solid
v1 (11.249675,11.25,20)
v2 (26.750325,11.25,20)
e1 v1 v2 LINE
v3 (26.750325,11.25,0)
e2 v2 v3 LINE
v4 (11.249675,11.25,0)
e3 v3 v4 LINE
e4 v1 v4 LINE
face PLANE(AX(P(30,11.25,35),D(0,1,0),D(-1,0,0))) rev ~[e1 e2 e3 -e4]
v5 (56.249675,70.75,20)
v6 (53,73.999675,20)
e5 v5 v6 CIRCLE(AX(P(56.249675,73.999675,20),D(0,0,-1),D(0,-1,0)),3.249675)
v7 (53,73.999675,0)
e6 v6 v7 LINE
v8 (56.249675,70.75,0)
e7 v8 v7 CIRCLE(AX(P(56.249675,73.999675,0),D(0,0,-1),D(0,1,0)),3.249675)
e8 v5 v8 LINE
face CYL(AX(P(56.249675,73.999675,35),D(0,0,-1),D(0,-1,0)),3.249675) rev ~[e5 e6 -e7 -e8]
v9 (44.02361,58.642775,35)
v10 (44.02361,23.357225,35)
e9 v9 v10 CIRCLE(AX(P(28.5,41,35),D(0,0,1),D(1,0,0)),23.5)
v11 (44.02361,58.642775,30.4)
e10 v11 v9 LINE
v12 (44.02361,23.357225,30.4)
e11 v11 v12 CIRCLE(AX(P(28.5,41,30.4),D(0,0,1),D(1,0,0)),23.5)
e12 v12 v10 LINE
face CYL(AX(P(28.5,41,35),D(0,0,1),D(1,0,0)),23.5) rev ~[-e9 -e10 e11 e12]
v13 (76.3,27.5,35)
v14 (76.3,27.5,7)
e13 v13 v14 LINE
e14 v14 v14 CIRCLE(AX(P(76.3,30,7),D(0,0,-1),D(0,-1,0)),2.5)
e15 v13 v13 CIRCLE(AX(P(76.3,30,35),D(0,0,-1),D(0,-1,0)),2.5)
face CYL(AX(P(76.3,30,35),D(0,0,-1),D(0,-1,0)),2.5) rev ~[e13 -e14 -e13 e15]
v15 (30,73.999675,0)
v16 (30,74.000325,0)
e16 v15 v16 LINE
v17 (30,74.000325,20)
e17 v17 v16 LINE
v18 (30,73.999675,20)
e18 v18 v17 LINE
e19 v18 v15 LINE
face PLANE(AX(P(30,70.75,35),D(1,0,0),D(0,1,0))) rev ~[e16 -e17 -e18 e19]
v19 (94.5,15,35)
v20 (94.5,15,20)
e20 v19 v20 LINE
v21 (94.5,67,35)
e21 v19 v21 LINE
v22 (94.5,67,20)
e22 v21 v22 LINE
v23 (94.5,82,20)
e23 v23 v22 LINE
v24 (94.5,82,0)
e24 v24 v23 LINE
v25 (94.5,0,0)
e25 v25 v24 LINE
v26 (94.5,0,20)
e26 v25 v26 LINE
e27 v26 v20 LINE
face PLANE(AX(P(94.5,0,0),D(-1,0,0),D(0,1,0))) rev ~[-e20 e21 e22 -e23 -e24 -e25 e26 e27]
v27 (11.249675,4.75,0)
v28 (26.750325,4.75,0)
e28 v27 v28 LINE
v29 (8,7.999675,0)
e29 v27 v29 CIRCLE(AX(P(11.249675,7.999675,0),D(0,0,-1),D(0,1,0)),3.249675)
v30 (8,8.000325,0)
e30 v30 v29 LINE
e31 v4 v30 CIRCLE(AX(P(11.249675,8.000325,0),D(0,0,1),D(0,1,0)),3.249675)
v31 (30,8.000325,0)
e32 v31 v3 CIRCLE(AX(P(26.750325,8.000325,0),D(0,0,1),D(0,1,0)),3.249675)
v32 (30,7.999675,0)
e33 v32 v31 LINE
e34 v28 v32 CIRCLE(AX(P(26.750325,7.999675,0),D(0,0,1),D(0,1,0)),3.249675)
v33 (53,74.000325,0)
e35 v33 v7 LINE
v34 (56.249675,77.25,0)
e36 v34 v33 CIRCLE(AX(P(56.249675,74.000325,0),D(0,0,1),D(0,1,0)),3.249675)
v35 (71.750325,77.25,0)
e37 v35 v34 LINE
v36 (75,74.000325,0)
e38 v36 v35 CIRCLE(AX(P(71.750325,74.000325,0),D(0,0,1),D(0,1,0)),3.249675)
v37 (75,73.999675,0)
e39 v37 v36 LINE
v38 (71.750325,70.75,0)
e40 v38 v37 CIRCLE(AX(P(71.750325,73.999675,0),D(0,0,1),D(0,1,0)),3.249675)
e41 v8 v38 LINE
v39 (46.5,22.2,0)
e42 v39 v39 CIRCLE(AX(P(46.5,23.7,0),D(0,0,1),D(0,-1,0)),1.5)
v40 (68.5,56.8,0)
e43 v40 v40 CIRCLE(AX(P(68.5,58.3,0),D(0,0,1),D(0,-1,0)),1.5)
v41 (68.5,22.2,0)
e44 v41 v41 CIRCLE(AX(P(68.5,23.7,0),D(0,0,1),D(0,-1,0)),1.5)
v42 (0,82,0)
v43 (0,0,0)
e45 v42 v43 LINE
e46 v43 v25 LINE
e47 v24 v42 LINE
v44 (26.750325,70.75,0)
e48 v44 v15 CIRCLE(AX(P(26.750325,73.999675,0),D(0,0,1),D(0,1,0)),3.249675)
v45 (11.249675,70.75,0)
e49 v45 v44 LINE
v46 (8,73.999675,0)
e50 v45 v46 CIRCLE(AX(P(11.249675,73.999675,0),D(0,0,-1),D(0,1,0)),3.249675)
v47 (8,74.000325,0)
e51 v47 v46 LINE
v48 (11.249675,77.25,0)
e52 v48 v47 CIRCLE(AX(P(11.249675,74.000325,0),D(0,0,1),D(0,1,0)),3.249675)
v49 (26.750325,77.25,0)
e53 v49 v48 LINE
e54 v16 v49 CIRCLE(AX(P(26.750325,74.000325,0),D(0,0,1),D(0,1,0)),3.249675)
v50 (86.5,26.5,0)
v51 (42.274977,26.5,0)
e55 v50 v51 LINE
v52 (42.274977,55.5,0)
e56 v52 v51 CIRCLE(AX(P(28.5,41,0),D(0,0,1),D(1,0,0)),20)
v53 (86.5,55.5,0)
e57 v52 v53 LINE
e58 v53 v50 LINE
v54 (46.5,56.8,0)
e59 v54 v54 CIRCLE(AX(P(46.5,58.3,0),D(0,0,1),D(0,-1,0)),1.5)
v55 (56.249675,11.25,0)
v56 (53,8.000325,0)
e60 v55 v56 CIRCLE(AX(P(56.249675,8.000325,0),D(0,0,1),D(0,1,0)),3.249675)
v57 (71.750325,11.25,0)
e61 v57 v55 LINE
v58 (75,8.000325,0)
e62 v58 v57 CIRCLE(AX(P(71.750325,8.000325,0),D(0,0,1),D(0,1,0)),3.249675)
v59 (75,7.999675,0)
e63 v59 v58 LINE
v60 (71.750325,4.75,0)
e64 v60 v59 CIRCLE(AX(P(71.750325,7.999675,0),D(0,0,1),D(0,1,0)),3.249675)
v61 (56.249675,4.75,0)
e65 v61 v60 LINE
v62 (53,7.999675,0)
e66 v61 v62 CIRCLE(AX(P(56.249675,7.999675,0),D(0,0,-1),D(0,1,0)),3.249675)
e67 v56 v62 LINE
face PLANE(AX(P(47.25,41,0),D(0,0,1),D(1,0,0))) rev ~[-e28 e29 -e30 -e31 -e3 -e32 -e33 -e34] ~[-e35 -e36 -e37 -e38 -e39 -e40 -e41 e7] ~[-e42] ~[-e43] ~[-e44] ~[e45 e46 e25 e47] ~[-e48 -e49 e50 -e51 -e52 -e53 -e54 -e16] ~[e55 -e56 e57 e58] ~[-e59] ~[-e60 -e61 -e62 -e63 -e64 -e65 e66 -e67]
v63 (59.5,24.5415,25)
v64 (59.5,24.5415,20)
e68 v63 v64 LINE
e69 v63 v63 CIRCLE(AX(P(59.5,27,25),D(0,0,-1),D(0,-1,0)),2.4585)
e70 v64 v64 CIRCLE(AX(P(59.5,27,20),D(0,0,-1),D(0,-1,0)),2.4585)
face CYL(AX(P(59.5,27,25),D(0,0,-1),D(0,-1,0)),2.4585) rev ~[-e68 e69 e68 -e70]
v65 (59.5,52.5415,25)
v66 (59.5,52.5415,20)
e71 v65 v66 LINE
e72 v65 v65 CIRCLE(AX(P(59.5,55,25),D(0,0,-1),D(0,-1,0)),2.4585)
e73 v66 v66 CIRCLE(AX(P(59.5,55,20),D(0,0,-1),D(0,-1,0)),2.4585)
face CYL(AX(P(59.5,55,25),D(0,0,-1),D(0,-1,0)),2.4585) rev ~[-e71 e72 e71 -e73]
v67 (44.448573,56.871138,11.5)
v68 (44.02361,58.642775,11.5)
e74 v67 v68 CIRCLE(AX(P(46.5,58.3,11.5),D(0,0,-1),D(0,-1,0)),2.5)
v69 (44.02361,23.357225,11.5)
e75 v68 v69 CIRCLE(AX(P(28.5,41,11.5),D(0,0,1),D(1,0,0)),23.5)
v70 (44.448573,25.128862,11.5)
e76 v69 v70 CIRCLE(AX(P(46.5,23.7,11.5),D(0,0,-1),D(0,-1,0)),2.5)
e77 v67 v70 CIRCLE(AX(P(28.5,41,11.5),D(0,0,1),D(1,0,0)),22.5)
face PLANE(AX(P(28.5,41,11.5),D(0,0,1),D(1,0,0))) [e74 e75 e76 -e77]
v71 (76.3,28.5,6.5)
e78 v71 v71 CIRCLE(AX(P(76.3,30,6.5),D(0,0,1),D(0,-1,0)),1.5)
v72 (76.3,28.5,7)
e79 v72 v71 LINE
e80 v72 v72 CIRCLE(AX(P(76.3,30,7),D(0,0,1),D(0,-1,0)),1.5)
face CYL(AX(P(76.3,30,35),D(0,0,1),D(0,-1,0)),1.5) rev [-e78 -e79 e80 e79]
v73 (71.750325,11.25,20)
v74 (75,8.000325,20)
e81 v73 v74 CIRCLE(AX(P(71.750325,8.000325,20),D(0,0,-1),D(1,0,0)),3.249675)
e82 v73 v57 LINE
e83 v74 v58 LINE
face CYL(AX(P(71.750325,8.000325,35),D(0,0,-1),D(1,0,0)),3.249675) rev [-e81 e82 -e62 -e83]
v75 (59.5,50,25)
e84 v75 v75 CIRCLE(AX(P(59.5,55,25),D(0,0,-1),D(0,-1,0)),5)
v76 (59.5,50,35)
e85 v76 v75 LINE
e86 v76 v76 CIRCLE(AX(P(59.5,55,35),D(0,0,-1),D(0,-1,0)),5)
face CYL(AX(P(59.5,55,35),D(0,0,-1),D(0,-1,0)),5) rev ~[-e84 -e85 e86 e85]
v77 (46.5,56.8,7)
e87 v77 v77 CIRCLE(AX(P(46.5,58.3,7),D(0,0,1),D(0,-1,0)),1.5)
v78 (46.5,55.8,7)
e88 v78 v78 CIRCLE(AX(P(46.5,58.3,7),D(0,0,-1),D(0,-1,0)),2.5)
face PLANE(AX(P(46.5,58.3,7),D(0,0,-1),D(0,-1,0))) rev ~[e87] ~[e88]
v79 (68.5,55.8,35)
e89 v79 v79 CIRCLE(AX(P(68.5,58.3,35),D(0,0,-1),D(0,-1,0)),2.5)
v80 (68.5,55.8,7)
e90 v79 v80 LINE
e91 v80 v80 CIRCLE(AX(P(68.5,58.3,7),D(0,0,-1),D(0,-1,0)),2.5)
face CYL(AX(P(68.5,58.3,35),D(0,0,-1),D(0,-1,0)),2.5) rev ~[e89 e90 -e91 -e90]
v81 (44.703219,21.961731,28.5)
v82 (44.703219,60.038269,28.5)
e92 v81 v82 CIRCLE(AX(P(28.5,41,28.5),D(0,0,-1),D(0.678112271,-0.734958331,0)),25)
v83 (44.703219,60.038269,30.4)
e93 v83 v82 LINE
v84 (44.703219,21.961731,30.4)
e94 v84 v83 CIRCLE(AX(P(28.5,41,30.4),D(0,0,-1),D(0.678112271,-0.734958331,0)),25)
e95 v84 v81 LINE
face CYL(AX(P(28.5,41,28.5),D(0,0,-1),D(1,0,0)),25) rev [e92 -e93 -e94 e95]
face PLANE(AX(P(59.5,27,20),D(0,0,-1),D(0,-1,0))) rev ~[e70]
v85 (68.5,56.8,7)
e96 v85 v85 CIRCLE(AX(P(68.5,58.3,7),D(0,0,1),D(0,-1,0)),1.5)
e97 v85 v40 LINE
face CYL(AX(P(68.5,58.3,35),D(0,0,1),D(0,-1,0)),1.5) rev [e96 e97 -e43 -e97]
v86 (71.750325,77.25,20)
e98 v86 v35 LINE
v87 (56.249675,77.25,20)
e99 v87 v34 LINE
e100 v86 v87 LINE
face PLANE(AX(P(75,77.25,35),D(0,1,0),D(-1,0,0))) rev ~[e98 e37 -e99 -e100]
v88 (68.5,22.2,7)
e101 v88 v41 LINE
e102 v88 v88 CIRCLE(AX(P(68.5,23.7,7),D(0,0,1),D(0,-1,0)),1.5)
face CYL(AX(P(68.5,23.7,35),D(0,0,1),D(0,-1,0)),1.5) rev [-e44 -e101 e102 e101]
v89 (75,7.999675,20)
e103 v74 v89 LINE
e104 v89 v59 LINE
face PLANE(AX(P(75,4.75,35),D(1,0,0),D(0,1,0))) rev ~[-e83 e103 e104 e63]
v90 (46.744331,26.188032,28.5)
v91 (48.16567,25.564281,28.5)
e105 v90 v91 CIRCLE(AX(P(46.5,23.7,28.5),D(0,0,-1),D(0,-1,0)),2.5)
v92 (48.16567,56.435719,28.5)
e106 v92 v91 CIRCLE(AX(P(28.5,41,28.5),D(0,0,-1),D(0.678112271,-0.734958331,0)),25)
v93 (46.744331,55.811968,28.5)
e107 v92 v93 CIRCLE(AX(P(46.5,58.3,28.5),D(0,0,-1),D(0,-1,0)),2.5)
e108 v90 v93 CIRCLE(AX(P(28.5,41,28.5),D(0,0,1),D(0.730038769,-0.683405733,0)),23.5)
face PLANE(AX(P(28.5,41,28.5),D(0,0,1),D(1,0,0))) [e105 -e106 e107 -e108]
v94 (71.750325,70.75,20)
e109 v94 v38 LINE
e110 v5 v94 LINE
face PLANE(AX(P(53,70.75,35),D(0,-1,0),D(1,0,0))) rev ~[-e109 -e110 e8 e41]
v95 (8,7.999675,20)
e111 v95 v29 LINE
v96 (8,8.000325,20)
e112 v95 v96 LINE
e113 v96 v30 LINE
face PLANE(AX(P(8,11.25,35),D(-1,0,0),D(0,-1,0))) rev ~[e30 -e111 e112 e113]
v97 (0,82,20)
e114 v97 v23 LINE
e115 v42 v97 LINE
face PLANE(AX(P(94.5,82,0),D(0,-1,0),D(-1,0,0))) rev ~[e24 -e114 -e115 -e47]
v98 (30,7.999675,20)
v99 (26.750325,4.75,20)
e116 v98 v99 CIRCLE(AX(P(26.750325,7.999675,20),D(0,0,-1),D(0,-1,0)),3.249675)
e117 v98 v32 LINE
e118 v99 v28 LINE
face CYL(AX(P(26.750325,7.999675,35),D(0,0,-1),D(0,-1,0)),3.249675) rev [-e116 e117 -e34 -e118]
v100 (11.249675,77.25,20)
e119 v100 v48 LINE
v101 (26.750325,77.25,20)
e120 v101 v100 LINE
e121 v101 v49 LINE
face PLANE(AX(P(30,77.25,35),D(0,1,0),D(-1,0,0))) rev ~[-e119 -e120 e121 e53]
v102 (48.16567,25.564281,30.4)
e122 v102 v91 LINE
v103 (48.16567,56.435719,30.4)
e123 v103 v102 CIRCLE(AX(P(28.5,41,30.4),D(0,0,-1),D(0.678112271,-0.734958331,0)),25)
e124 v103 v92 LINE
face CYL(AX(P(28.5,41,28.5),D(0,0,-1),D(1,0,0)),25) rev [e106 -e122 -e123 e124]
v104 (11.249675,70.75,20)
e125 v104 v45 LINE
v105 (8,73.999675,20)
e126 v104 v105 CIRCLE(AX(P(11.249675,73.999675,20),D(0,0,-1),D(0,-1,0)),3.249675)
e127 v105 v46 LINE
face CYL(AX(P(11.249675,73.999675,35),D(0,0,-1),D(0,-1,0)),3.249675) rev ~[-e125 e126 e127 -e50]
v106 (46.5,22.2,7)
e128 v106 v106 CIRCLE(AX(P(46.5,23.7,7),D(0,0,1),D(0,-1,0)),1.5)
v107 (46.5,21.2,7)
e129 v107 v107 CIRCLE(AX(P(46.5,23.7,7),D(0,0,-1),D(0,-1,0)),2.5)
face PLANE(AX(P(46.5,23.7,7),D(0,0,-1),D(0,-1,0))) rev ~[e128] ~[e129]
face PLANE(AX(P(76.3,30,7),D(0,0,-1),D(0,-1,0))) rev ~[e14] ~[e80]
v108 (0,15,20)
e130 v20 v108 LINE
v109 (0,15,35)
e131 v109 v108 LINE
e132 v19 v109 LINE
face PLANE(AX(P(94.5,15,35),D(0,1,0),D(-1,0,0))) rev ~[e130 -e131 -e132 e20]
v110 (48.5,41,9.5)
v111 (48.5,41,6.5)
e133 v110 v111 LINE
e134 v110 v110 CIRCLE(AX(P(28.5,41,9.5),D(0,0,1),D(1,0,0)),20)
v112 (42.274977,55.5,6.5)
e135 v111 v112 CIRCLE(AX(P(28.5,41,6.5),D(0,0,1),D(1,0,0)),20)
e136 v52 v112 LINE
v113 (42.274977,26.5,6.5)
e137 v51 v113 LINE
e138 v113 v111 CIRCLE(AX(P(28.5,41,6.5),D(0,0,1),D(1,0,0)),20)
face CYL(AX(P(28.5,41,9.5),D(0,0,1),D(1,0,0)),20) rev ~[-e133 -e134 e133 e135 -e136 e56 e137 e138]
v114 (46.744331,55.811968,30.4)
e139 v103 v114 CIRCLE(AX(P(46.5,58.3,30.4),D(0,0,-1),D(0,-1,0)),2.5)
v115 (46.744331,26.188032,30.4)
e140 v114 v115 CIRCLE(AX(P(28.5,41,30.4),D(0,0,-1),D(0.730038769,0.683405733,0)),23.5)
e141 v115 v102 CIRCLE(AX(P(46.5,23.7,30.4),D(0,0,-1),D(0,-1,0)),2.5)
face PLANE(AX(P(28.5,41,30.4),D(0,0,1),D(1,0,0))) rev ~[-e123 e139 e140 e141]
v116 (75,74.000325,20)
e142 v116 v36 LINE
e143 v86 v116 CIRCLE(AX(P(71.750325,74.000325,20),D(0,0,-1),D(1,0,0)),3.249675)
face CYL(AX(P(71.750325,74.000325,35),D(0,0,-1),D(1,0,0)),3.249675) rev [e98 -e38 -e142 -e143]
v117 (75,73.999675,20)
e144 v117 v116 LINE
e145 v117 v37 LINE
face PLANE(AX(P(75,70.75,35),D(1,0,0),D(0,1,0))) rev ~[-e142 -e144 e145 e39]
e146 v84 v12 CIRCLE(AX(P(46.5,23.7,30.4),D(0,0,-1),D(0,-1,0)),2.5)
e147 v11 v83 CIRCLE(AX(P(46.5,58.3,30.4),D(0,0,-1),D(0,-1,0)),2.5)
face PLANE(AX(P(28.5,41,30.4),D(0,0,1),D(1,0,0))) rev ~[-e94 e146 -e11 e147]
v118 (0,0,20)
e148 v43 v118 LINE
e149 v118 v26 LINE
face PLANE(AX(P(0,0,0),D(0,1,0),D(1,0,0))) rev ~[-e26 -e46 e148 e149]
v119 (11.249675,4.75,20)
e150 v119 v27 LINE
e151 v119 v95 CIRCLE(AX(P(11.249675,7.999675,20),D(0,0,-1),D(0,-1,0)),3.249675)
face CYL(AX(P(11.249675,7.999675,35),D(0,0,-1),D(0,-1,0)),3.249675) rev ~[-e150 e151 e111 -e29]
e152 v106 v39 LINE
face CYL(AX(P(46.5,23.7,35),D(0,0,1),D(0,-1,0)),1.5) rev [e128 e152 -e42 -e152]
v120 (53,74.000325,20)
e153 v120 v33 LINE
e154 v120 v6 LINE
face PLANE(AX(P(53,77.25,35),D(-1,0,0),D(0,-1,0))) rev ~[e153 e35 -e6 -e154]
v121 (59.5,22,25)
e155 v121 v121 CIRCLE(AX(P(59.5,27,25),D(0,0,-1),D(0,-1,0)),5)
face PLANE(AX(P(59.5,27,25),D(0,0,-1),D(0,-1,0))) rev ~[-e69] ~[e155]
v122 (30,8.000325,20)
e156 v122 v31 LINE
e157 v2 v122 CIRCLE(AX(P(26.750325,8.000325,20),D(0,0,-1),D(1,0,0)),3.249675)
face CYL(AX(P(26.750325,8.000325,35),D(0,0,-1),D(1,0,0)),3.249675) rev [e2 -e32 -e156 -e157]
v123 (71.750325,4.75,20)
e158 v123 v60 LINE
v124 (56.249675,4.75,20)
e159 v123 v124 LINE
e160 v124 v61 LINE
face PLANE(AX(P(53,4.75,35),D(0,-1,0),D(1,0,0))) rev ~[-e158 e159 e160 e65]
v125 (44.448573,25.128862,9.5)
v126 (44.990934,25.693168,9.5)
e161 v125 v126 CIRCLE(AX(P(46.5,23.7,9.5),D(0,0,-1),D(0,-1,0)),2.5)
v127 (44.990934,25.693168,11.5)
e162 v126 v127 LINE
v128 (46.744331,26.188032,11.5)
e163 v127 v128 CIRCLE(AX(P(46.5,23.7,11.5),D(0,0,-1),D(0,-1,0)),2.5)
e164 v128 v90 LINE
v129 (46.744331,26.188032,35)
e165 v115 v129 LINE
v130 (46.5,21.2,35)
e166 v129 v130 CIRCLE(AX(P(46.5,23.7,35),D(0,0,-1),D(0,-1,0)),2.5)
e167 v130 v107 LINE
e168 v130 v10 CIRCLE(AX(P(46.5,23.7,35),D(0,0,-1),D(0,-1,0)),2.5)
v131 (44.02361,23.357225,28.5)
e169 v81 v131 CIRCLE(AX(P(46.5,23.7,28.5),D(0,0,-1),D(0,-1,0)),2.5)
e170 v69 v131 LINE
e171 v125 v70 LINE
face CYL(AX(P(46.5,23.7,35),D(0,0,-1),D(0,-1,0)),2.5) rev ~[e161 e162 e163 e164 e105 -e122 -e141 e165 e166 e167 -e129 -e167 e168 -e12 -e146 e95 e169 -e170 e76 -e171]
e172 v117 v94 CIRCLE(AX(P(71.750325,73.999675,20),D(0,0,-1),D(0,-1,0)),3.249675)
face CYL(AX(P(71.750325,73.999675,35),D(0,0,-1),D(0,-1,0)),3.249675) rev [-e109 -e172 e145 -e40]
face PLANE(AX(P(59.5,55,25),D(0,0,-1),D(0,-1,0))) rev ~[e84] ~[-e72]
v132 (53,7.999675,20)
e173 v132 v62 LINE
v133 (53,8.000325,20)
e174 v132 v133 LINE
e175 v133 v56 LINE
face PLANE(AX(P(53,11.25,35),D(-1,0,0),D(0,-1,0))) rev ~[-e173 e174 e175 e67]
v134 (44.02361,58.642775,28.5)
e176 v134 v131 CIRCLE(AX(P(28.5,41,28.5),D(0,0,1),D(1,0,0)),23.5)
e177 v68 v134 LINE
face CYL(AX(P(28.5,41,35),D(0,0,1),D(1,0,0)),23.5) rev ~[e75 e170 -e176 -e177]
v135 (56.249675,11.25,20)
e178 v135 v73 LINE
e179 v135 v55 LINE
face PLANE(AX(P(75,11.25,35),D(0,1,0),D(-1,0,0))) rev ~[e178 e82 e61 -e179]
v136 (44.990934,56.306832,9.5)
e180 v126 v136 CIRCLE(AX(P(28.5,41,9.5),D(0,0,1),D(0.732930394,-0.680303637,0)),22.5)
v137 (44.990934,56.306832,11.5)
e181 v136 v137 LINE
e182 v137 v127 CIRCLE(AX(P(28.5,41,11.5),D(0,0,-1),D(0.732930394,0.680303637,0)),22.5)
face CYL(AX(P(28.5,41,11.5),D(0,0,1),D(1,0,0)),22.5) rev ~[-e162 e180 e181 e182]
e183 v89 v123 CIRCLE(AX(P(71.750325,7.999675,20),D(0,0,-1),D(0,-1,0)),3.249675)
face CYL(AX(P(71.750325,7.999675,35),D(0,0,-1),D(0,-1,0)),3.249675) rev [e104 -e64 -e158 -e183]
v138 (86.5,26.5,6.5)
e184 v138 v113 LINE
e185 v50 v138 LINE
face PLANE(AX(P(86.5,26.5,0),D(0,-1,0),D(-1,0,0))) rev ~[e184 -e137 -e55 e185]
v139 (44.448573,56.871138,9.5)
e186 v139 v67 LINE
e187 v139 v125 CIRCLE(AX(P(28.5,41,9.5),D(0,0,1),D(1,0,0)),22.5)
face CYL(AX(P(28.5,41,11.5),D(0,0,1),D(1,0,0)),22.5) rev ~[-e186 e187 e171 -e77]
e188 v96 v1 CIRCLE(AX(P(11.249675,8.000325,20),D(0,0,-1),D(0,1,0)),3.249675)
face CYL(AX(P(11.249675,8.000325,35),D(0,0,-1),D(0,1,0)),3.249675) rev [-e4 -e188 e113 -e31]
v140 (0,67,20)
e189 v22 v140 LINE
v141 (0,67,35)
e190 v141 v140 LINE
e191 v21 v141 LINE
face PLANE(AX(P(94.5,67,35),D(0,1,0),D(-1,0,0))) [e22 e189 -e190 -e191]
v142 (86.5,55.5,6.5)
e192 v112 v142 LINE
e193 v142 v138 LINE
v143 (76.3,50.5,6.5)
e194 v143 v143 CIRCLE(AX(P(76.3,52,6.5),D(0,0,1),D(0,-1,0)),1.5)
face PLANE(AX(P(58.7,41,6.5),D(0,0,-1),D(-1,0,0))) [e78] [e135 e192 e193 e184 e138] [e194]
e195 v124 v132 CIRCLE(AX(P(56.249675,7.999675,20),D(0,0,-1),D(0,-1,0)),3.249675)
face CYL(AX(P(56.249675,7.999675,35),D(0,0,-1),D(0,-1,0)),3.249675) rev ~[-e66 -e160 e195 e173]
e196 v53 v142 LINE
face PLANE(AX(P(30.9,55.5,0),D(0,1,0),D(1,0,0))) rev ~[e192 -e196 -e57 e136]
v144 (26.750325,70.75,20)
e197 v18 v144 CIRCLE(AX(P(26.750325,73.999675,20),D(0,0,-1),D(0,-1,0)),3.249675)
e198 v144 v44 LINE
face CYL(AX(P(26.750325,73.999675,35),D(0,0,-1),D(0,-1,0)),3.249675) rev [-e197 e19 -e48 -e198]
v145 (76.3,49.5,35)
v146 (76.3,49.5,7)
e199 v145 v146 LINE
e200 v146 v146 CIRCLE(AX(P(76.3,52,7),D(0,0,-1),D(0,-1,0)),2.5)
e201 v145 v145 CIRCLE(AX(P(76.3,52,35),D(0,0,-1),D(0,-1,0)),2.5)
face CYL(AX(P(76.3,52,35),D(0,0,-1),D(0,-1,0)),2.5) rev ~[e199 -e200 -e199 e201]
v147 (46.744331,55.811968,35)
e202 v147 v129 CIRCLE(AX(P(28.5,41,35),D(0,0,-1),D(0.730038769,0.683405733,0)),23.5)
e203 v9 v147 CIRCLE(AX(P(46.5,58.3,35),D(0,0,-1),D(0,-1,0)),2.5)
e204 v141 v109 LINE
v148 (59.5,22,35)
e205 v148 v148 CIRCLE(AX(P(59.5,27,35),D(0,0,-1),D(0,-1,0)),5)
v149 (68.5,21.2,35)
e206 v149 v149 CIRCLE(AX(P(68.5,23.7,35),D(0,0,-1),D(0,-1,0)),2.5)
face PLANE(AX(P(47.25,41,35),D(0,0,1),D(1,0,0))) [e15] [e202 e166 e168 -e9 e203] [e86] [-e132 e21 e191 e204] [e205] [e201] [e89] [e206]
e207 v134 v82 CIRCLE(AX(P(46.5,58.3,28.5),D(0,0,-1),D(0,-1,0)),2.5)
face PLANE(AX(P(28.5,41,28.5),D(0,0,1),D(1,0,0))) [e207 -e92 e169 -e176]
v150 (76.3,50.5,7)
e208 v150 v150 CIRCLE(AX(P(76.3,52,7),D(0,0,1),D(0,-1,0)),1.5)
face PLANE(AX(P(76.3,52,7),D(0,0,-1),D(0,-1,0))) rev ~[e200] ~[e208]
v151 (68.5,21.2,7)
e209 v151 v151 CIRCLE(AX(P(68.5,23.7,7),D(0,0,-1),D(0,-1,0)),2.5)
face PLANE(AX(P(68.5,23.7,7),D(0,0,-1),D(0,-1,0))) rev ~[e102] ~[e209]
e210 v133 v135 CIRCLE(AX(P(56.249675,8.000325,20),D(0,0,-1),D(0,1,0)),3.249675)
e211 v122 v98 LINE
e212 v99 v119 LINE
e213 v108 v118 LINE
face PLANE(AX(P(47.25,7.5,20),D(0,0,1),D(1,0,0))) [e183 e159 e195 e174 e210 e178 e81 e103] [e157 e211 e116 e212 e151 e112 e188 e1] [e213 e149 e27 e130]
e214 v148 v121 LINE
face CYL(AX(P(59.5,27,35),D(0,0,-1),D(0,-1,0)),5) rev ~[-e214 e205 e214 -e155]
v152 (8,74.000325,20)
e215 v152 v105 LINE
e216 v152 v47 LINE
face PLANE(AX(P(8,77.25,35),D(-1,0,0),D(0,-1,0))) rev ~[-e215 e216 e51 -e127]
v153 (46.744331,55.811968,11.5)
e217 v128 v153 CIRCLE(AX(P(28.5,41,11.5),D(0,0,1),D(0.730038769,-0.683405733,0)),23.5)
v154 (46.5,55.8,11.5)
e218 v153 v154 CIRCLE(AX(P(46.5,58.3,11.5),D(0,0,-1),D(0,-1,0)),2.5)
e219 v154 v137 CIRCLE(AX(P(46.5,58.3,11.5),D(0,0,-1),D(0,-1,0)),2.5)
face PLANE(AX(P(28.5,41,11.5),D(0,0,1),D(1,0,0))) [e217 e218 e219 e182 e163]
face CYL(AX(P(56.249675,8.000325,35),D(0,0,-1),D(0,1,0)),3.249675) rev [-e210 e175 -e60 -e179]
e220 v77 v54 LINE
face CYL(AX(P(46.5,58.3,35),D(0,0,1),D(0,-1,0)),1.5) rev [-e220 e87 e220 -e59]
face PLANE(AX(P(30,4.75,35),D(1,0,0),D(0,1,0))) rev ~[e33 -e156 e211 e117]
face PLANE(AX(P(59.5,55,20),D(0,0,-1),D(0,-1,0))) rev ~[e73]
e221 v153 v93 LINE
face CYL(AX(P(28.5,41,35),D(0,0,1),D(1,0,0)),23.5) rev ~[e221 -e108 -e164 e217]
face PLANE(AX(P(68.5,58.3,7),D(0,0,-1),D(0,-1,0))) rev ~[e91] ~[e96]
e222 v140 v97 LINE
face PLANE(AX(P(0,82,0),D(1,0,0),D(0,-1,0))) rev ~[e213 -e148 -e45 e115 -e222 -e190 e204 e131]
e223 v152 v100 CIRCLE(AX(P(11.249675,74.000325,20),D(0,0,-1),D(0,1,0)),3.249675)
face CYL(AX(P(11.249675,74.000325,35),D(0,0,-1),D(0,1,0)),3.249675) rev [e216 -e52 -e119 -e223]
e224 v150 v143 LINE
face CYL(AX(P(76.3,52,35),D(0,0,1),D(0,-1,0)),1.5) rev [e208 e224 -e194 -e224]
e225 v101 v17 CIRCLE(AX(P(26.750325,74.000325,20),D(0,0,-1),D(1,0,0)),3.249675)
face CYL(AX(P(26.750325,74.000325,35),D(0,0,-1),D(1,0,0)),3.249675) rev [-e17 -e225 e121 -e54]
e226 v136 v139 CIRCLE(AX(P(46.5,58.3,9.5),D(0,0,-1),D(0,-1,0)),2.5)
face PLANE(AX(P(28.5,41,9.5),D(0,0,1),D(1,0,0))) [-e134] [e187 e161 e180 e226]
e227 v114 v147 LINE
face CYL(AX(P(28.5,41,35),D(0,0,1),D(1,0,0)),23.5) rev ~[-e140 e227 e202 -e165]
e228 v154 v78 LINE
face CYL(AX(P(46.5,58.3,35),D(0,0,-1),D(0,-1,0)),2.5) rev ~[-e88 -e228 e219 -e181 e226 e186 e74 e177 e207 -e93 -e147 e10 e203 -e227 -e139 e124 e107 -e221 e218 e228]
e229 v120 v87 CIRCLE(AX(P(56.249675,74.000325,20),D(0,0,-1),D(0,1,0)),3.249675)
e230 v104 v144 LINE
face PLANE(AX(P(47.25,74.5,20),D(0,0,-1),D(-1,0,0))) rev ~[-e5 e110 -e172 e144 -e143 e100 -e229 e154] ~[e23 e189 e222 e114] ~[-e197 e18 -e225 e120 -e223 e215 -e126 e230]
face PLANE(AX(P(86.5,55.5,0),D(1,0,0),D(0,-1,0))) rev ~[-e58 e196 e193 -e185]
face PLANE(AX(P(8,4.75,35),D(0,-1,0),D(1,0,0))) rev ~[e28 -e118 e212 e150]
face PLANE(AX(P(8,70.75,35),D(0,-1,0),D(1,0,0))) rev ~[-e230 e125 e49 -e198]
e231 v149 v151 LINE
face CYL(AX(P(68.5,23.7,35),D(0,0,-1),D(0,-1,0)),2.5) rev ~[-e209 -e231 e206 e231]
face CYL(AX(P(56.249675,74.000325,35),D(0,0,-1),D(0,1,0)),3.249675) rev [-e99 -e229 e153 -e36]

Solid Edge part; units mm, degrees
sketch "Sketch1" plane through (0, 0, 0) normal (0, 0, 1) x (1, 0, 0)
  line L0 (0, 0) -> (94.5, 0)
  line L1 (94.5, 0) -> (94.5, 82)
  line L2 (94.5, 82) -> (0, 82)
  line L3 (0, 82) -> (0, 0)
  dimension "D1" = 94.5
  dimension "D2" = 82
extrude "Protrusion1" add sketch "Sketch1" along normal blind 35
sketch "Sketch2" plane through (47.25, 41, 35) normal (0, 0, 1) x (1, 0, 0)
  circle A0 centre (-18.75, 0) radius 23.5
  dimension "D1" = 47
  dimension "D2" = 66
extrude "VaciadoExtruido_1" cut sketch "Sketch2" against normal blind 23.5
sketch "Sketch3" plane through (28.5, 41, 11.5) normal (0, 0, 1) x (1, 0, 0)
  circle A0 centre (0, 0) radius 22.5
  dimension "D1" = 45
extrude "VaciadoExtruido_2" cut sketch "Sketch3" against normal blind 2
sketch "Sketch4" plane through (28.5, 41, 9.5) normal (0, 0, 1) x (1, 0, 0)
  circle A0 centre (0, 0) radius 20
  dimension "D1" = 40
extrude "Cutout1" cut sketch "Sketch4" against normal through all
sketch "Sketch5" plane through (47.25, 41, 28.5) normal (0, 0, 1) x (1, 0, 0)
  circle A0 centre (-18.75, 0) radius 25
  dimension "D1" = 50
extrude "VaciadoExtruido_4" cut sketch "Sketch5" along normal blind 1.9
sketch "Sketch6" plane through (47.25, 41, 0) normal (0, 0, -1) x (1, 0, 0)
  line L0 (-16.35, -14.5) -> (39.25, -14.5)
  line L1 (39.25, -14.5) -> (39.25, 14.5)
  line L2 (39.25, 14.5) -> (-16.35, 14.5)
  line L3 (-16.35, 14.5) -> (-16.35, -14.5)
  dimension "D1" = 29
  dimension "D2" = 14.5
  dimension "D3" = 58
  dimension "D4" = 55.6
extrude "VaciadoExtruido_5" cut sketch "Sketch6" against normal blind 6.5
hole "Agujero_1" at (46.5, 23.7, 35) direction (0, 0, -1) diameter 3 end through all
hole "Hole1" at (68.5, 23.7, 35) direction (0, 0, -1) diameter 3 end through all
hole "Hole2" at (76.3, 30, 35) direction (0, 0, -1) diameter 3 end through all
hole "Hole3" at (76.3, 52, 35) direction (0, 0, -1) diameter 3 end through all
hole "Hole4" at (68.5, 58.3, 35) direction (0, 0, -1) diameter 3 end through all
hole "Agujero_14" at (46.5, 58.3, 35) direction (0, 0, -1) diameter 3 end up to next
hole "Agujero_15" at (46.5, 58.3, 35) direction (0, 0, -1) diameter 5 depth 28
hole "Hole5" at (68.5, 58.3, 35) direction (0, 0, -1) diameter 5 depth 28
hole "Hole6" at (76.3, 52, 35) direction (0, 0, -1) diameter 5 depth 28
hole "Hole7" at (76.3, 30, 35) direction (0, 0, -1) diameter 5 depth 28
hole "Hole8" at (68.5, 23.7, 35) direction (0, 0, -1) diameter 5 depth 28
hole "Hole9" at (46.5, 23.7, 35) direction (0, 0, -1) diameter 5 depth 28
hole "Agujero_21" at (59.5, 27, 35) direction (0, 0, -1) diameter 10 depth 10
hole "Hole10" at (59.5, 55, 35) direction (0, 0, -1) diameter 10 depth 10
hole "Agujero_25" at (59.5, 27, 25) direction (0, 0, -1) diameter 4.917 depth 5 thread major 6 thread length 2
hole "Hole11" at (59.5, 55, 25) direction (0, 0, -1) diameter 4.917 depth 5 thread major 6 thread length 2
sketch "Sketch7" plane through (47.25, 41, 35) normal (0, 0, 1) x (1, 0, 0)
  line L0 (-39.25, 29.75) -> (-17.25, 29.75)
  line L1 (-17.25, 29.75) -> (-17.25, 36.25)
  line L2 (-17.25, 36.25) -> (-39.25, 36.25)
  line L3 (-39.25, 36.25) -> (-39.25, 29.75)
  line L4 (5.75, 29.75) -> (27.75, 29.75)
  line L5 (27.75, 29.75) -> (27.75, 36.25)
  line L6 (27.75, 36.25) -> (5.75, 36.25)
  line L7 (5.75, 36.25) -> (5.75, 29.75)
  line L8 (-39.25, -36.25) -> (-17.25, -36.25)
  line L9 (-17.25, -36.25) -> (-17.25, -29.75)
  line L10 (-17.25, -29.75) -> (-39.25, -29.75)
  line L11 (-39.25, -29.75) -> (-39.25, -36.25)
  line L12 (5.75, -36.25) -> (27.75, -36.25)
  line L13 (27.75, -36.25) -> (27.75, -29.75)
  line L14 (27.75, -29.75) -> (5.75, -29.75)
  line L15 (5.75, -29.75) -> (5.75, -36.25)
  dimension "D1" = 66
  dimension "D2" = 33
  dimension "D3" = 6.5
  dimension "D4" = 6.5
  dimension "D5" = 6.5
  dimension "D6" = 6.5
  dimension "D7" = 66
  dimension "D8" = 33
  dimension "D9" = 22
  dimension "D10" = 22
  dimension "D11" = 23
  dimension "D12" = 8
  dimension "D13" = 8
  dimension "D14" = 22
  dimension "D15" = 22
  dimension "D16" = 23
extrude "Cutout2" cut sketch "Sketch7" against normal through all
fillet "Redondeo_2" radius 3.25 16 edges at (8, 77.25, 17.5) (53, 77.25, 17.5) (8, 11.25, 17.5) (53, 11.25, 17.5) (30, 77.25, 17.5) (75, 77.25, 17.5) (75, 11.25, 17.5) (30, 11.25, 17.5) (53, 70.75, 17.5) (8, 70.75, 17.5) (8, 4.75, 17.5) (53, 4.75, 17.5) (75, 70.75, 17.5) (30, 70.75, 17.5) (75, 4.75, 17.5) (30, 4.75, 17.5)
sketch "Sketch8" plane through (47.25, 41, 35) normal (0, 0, 1) x (1, 0, 0)
  line L0 (-47.25, 41) -> (47.25, 41)
  line L1 (47.25, 41) -> (47.25, 26)
  line L2 (47.25, 26) -> (-47.25, 26)
  line L3 (-47.25, 26) -> (-47.25, 41)
  line L4 (-47.25, -41) -> (47.25, -41)
  line L5 (47.25, -41) -> (47.25, -26)
  line L6 (47.25, -26) -> (-47.25, -26)
  line L7 (-47.25, -26) -> (-47.25, -41)
  dimension "D1" = 15
  dimension "D2" = 15
extrude "VaciadoExtruido_7" cut sketch "Sketch8" against normal blind 15
